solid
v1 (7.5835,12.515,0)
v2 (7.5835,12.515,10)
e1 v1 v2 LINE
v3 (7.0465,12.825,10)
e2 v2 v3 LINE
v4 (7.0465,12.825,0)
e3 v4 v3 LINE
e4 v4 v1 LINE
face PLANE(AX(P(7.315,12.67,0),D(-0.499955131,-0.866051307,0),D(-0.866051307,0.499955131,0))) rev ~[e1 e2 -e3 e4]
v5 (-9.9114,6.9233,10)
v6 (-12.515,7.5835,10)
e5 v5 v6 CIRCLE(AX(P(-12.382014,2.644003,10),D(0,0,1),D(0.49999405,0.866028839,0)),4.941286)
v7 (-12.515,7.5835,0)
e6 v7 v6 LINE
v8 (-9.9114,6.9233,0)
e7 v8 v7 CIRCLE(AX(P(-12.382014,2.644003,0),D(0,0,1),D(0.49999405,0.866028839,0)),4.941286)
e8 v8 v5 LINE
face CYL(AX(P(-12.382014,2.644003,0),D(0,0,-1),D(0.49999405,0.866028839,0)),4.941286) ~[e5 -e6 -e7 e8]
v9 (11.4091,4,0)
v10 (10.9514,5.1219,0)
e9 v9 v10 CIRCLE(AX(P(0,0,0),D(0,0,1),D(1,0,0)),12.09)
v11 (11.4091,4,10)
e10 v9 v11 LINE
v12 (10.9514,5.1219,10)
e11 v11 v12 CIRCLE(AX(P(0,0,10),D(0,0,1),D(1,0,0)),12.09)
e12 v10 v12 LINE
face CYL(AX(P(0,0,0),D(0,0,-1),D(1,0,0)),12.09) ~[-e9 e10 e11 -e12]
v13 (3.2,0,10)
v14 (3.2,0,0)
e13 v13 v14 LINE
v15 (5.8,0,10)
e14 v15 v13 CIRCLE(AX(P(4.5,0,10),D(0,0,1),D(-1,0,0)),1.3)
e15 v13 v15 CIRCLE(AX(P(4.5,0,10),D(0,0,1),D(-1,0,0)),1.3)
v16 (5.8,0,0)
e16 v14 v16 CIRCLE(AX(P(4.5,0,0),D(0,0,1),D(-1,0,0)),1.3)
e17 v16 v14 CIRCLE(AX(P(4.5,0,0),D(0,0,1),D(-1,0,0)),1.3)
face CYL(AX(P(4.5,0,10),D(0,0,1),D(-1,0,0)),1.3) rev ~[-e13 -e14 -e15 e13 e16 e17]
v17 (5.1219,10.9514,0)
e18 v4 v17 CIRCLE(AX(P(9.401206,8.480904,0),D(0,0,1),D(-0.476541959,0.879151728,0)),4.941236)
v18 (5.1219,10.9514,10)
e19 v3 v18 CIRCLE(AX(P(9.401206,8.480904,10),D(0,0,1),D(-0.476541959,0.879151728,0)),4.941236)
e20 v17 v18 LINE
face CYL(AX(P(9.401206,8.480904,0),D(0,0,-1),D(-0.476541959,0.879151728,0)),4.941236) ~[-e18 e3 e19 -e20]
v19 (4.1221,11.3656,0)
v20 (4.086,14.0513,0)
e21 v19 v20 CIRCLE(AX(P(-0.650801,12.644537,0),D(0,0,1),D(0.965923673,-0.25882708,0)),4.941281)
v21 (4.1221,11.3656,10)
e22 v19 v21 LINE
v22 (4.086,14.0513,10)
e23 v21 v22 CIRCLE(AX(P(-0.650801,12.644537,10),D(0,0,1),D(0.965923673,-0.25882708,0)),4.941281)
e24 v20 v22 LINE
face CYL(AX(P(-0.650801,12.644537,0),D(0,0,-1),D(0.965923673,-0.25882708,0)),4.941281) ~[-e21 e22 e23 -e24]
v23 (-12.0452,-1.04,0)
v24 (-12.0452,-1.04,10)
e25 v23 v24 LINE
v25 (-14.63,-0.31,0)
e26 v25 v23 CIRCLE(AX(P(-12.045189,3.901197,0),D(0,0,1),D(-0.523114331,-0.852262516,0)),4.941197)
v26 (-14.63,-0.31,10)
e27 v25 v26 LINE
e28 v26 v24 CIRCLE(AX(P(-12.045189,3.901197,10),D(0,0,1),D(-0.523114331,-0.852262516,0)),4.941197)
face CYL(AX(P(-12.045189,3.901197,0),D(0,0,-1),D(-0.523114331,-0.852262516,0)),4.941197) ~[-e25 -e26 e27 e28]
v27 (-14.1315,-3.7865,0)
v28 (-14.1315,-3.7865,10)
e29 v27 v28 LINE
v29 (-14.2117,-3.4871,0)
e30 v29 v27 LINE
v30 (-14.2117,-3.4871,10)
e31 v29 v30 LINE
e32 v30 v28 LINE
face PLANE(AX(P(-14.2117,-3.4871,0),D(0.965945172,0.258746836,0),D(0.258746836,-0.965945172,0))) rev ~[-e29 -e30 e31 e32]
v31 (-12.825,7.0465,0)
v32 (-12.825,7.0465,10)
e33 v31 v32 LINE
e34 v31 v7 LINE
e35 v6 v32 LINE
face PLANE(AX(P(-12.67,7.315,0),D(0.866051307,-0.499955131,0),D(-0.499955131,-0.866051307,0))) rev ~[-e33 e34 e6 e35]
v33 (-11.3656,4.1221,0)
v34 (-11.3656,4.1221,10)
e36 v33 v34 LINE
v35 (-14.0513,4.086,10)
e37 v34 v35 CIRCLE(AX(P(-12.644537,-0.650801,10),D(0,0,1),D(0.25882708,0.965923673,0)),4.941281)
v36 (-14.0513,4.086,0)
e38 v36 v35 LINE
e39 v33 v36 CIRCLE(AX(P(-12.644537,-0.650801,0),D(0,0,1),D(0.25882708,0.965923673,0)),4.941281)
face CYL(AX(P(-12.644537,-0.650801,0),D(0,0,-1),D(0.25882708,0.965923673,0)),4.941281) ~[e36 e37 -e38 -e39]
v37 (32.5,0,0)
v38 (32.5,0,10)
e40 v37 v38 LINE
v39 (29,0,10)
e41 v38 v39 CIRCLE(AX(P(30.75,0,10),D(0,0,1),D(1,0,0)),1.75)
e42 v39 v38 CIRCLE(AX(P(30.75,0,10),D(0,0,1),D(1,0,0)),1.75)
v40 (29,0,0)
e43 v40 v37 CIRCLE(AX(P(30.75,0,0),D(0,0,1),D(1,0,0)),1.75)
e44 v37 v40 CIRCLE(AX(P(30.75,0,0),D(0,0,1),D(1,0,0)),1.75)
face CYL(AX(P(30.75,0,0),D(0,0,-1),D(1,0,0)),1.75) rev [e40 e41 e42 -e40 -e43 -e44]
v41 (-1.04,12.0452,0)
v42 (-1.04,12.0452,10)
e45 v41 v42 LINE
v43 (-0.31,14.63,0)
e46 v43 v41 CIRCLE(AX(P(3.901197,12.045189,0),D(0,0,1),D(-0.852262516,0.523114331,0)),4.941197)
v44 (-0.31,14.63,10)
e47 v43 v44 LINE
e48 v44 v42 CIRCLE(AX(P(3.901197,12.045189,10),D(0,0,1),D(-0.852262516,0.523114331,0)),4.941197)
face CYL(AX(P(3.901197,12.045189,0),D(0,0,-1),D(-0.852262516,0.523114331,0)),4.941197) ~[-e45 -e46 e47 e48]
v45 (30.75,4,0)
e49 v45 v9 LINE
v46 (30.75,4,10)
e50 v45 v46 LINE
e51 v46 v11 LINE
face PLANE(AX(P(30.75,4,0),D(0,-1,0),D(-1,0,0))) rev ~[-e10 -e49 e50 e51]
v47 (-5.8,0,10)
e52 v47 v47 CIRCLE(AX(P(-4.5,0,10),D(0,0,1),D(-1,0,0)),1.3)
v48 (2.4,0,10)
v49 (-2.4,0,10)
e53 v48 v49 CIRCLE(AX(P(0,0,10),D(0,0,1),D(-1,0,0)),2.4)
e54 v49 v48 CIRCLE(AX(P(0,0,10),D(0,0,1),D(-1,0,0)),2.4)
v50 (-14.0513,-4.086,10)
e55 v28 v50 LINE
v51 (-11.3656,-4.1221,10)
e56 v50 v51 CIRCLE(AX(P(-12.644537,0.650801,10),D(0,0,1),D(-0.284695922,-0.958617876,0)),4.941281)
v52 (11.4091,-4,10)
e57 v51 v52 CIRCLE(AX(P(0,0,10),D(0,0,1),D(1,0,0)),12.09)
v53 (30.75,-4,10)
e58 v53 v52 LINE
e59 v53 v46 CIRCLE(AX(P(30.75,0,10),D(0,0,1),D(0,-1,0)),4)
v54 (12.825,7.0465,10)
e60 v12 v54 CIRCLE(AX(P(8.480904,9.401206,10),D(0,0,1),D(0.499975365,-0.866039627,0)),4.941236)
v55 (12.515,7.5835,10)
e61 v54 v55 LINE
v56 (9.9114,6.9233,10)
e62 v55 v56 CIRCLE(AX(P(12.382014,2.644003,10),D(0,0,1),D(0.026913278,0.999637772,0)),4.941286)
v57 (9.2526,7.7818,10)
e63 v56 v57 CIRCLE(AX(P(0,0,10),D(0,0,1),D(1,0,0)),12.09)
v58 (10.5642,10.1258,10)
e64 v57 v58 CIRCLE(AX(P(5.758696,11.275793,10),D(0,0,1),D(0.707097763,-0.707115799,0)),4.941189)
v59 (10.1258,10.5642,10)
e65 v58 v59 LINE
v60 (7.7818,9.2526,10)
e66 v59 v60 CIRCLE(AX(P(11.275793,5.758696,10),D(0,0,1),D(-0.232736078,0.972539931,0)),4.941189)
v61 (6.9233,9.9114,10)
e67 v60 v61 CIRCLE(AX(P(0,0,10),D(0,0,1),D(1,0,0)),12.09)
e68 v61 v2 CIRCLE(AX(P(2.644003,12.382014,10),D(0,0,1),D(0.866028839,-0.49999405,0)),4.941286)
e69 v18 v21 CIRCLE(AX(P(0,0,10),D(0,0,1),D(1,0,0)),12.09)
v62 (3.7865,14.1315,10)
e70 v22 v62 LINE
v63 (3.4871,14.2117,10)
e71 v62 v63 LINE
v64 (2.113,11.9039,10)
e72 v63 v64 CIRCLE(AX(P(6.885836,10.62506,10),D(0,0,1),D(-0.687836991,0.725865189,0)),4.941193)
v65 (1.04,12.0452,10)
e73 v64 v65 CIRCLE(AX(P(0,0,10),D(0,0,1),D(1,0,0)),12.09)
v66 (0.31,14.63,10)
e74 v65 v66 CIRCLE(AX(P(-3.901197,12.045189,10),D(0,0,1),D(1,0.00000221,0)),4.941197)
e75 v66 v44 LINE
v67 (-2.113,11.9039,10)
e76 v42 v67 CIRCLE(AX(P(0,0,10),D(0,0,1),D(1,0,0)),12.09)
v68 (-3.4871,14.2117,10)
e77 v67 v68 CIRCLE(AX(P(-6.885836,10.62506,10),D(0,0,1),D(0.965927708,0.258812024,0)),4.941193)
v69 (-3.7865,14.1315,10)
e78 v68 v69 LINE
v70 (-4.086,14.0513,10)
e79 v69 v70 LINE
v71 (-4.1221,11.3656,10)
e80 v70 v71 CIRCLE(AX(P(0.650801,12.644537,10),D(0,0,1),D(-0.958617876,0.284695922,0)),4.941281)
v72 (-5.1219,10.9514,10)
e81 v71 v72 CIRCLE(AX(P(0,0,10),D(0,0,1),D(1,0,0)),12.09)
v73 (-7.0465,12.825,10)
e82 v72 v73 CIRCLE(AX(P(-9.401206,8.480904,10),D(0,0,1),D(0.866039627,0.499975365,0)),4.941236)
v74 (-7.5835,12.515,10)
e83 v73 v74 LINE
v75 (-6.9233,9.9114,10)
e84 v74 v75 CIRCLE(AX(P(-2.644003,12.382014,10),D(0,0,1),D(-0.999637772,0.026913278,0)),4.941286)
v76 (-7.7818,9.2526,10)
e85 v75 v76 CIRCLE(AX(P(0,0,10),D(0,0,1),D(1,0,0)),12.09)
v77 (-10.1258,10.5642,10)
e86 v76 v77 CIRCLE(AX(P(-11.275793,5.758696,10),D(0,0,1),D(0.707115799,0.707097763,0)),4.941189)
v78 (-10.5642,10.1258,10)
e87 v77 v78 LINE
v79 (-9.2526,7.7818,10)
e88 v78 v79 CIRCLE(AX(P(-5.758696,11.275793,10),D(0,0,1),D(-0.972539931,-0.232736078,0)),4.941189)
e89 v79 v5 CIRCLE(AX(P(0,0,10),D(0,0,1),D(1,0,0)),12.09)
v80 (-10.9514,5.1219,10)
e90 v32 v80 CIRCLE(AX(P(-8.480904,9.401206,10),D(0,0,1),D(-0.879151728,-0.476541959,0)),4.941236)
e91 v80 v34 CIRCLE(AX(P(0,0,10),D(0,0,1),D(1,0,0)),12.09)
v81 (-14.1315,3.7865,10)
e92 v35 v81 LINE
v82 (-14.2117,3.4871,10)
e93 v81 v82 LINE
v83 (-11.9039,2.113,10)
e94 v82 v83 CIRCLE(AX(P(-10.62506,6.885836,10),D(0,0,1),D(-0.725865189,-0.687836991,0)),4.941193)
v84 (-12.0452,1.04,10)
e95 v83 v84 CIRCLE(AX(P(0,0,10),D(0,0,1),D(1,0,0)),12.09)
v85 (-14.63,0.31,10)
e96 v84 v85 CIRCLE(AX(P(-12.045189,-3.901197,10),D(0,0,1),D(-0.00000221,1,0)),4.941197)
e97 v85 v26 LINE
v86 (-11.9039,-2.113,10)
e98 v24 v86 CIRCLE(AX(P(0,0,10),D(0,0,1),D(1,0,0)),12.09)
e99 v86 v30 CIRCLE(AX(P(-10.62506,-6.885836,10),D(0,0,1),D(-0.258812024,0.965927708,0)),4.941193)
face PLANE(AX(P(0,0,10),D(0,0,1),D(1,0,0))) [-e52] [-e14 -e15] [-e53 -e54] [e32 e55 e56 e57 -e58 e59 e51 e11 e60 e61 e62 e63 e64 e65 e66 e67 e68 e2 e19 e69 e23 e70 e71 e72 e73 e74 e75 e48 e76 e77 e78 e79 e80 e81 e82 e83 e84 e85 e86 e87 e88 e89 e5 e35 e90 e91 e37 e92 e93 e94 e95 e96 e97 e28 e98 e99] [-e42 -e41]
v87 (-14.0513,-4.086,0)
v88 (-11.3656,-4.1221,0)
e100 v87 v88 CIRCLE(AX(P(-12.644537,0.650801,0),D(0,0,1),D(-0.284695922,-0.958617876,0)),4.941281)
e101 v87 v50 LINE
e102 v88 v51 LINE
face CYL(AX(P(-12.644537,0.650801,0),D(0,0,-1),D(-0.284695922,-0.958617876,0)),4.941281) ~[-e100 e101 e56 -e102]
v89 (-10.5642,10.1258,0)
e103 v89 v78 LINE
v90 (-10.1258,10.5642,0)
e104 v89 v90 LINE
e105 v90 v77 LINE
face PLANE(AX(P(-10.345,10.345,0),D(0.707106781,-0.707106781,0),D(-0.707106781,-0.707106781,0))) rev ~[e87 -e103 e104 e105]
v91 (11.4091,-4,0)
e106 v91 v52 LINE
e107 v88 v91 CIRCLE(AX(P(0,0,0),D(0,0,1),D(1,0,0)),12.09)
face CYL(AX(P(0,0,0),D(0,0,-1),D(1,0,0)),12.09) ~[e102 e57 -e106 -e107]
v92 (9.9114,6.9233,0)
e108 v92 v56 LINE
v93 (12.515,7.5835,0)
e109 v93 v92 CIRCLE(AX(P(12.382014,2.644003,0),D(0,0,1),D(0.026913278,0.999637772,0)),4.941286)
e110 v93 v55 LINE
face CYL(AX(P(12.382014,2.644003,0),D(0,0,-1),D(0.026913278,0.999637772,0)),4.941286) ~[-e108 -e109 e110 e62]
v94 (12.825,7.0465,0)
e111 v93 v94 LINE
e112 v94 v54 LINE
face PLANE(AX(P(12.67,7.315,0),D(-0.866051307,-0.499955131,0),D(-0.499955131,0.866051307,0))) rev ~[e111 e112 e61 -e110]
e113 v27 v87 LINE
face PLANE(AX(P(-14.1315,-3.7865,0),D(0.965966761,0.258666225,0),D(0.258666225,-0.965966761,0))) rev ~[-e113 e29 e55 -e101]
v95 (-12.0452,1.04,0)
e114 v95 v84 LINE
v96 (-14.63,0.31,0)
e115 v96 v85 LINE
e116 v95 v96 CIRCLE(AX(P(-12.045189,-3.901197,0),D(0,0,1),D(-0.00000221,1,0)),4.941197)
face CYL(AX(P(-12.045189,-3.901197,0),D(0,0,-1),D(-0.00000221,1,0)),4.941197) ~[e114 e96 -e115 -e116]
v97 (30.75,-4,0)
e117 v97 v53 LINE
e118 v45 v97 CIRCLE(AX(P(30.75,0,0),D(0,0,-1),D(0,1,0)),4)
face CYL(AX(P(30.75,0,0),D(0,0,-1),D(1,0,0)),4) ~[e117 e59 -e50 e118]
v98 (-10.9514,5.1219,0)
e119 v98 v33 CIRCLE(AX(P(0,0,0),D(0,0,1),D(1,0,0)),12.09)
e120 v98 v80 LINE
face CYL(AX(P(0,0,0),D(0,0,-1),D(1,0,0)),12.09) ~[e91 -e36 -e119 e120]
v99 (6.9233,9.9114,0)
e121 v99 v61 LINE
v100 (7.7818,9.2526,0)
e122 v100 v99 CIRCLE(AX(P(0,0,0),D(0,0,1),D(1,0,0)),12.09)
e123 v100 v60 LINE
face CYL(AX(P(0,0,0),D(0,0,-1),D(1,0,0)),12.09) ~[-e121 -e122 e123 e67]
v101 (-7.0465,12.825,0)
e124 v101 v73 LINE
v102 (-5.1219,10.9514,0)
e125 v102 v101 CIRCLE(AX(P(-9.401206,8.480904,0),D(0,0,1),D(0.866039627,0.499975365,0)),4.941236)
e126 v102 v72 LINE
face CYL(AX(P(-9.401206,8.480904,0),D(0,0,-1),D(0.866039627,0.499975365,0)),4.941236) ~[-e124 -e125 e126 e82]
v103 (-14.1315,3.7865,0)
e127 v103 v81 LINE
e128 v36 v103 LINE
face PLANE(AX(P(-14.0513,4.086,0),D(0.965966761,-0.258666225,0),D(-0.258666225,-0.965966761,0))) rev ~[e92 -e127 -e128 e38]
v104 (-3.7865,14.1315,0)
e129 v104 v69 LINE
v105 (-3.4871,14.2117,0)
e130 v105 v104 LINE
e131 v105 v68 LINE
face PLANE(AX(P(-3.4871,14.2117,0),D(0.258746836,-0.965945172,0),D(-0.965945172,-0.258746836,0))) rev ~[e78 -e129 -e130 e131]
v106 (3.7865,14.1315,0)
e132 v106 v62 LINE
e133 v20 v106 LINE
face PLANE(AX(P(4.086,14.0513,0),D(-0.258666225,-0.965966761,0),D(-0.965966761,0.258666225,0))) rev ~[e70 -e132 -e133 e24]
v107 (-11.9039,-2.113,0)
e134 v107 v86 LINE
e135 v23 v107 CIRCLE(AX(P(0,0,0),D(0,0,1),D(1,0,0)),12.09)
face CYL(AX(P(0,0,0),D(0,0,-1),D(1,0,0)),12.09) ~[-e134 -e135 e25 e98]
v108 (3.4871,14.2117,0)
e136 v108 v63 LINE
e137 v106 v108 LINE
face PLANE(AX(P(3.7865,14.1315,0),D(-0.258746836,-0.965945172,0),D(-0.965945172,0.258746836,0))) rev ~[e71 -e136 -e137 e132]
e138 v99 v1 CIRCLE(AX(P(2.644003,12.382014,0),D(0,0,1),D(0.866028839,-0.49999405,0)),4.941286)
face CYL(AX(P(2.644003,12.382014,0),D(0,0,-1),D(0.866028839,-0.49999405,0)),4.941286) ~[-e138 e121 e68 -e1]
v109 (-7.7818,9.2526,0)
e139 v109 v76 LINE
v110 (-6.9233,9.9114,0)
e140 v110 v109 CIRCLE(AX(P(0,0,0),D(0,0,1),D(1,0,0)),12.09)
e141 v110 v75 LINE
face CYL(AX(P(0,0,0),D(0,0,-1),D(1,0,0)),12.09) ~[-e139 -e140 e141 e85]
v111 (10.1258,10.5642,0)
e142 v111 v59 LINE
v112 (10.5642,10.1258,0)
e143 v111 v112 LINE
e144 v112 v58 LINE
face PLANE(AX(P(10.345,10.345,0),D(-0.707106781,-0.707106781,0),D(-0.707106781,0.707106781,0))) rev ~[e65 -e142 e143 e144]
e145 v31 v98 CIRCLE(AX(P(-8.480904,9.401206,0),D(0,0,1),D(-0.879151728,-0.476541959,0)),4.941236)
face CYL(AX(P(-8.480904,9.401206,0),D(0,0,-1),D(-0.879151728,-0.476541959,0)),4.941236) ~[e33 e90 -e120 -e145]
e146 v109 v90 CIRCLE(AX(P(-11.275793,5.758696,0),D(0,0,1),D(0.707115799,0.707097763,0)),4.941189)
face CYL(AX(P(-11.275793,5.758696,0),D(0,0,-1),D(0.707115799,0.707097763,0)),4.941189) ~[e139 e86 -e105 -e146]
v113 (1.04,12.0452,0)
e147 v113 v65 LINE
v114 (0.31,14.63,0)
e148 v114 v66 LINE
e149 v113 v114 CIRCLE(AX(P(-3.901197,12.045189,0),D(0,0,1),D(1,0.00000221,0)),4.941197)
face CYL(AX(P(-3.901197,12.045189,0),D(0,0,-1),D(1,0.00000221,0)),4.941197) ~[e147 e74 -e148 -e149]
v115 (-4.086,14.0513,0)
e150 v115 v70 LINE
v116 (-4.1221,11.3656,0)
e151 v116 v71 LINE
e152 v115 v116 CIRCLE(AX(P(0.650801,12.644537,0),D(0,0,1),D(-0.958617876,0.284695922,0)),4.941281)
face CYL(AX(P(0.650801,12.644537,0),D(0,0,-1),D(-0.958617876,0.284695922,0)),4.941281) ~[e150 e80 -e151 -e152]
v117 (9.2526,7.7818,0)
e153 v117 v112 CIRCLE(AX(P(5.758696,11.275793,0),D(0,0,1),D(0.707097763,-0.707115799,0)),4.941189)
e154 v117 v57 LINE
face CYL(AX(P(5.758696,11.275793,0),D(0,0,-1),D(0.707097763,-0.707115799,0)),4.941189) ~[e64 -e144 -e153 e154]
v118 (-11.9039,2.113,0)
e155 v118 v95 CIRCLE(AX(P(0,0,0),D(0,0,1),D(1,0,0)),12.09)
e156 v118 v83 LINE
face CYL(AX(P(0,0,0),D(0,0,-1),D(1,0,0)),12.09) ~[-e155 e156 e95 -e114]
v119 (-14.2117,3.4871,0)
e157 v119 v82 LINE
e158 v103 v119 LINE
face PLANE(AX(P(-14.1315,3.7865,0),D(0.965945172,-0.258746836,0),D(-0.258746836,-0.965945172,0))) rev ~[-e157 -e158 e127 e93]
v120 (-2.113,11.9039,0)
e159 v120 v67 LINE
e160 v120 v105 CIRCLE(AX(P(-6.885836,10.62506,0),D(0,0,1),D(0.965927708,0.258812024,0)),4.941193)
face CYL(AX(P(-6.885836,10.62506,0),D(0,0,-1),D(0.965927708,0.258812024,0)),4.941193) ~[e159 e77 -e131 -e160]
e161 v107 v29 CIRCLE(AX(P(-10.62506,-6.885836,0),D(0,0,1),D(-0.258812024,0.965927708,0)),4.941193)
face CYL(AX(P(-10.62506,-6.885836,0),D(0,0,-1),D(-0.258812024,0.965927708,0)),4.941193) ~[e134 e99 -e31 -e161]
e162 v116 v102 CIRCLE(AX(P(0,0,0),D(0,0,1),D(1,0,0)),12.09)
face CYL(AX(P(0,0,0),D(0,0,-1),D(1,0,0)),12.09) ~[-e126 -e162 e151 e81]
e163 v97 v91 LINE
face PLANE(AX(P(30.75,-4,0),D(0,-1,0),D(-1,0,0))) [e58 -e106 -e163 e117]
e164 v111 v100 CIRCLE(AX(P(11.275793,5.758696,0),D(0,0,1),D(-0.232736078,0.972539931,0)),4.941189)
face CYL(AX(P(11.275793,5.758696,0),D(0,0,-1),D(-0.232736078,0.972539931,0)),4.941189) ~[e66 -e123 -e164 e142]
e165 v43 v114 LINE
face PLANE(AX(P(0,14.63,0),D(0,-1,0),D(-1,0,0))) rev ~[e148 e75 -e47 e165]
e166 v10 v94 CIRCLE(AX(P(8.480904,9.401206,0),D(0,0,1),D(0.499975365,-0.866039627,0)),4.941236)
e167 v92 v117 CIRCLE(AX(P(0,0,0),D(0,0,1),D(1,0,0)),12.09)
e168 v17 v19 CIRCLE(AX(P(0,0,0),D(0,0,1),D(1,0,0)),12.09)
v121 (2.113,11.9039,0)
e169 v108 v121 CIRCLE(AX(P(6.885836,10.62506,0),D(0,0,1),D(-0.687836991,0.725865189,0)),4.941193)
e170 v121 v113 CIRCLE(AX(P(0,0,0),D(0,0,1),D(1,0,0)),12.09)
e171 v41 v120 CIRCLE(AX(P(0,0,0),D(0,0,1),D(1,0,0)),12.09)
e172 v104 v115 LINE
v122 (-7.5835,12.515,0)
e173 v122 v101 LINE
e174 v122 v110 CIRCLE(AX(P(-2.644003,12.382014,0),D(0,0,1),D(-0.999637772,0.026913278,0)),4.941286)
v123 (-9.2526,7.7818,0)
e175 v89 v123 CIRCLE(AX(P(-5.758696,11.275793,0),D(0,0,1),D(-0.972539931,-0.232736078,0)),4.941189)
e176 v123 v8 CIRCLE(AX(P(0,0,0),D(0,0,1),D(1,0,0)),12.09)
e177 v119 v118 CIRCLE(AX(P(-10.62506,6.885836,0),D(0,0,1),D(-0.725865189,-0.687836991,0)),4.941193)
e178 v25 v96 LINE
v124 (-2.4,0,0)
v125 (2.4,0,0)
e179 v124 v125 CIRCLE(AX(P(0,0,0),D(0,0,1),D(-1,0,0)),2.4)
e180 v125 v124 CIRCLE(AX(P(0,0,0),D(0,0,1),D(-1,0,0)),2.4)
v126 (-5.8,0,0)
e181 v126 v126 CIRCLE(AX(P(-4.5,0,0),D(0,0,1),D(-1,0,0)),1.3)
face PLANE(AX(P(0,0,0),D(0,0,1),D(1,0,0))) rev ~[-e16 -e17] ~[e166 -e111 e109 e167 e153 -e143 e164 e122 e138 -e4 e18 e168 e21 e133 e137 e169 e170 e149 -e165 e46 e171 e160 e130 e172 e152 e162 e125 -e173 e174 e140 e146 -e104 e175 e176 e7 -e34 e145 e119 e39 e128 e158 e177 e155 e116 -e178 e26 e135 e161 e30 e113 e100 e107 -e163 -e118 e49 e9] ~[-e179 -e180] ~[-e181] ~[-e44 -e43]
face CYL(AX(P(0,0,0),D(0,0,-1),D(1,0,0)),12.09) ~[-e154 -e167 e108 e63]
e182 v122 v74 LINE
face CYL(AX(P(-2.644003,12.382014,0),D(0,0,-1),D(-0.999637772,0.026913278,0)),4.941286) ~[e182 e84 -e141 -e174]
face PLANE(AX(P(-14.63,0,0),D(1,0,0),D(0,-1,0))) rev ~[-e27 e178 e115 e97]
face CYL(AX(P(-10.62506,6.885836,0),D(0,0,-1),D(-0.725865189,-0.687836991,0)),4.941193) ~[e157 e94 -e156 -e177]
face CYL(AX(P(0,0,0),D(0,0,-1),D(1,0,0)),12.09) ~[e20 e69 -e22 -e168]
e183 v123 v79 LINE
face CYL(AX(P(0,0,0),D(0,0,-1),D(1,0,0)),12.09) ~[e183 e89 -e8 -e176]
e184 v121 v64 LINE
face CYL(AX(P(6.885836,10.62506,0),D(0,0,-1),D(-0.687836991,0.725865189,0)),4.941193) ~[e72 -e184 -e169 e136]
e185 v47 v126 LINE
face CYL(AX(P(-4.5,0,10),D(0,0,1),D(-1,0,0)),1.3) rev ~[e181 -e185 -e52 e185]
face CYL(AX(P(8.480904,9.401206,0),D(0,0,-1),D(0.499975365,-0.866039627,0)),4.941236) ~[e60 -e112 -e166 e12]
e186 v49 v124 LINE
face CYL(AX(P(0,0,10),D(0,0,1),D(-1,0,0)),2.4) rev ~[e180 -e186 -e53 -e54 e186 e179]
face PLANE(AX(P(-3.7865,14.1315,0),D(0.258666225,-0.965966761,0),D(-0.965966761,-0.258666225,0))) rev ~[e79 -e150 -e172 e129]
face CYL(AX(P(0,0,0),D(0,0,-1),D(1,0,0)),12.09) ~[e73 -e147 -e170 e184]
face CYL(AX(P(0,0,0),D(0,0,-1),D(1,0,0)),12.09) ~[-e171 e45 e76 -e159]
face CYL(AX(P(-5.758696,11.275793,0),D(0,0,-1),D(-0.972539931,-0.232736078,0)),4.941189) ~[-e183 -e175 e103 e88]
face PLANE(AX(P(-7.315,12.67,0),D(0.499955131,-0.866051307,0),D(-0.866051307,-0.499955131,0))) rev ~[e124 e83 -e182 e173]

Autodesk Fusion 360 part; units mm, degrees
sketch "Sketch1" plane through (0, 0, 0) normal (0, 0, 1) x (1, 0, 0)
  circle A0 centre (0, 0) radius 12.09
  line L0 (0, 0) -> (30.75, 0)
  circle A1 centre (30.75, 0) radius 1.75
  circle A2 centre (0, 0) radius 1.75
  line L1 (0, -14.63) -> (0, 14.63) construction
  line L2 (0, 14.63) -> (-0.31, 14.63)
  line L3 (0, 14.63) -> (-0.31, 14.63)
  arc A3 (-0.31, 14.63) -> (-1.04, 12.0452) centre (3.9012, 12.0452) ccw
  arc A4 (1.04, 12.0452) -> (0.31, 14.63) centre (-3.9012, 12.0452) ccw
  line L4 (0.31, 14.63) -> (0, 14.63)
  arc A5 (-4.086, 14.0513) -> (-4.1221, 11.3656) centre (0.6508, 12.6445) ccw
  line L5 (-3.7865, 14.1315) -> (-4.086, 14.0513)
  line L6 (-3.4871, 14.2117) -> (-3.7865, 14.1315)
  arc A6 (-2.113, 11.9039) -> (-3.4871, 14.2117) centre (-6.8858, 10.625) ccw
  arc A7 (-7.5835, 12.515) -> (-6.9233, 9.9114) centre (-2.644, 12.382) ccw
  line L7 (-7.315, 12.67) -> (-7.5835, 12.515)
  line L8 (-7.0465, 12.825) -> (-7.315, 12.67)
  arc A8 (-5.1219, 10.9514) -> (-7.0465, 12.825) centre (-9.4011, 8.4808) ccw
  arc A9 (-10.5642, 10.1258) -> (-9.2526, 7.7818) centre (-5.7587, 11.2758) ccw
  line L9 (-10.345, 10.345) -> (-10.5642, 10.1258)
  line L10 (-10.1258, 10.5642) -> (-10.345, 10.345)
  arc A10 (-7.7818, 9.2526) -> (-10.1258, 10.5642) centre (-11.2758, 5.7587) ccw
  arc A11 (-12.825, 7.0465) -> (-10.9514, 5.1219) centre (-8.4808, 9.4011) ccw
  line L11 (-12.67, 7.315) -> (-12.825, 7.0465)
  line L12 (-12.515, 7.5835) -> (-12.67, 7.315)
  arc A12 (-9.9114, 6.9233) -> (-12.515, 7.5835) centre (-12.382, 2.644) ccw
  arc A13 (-14.2117, 3.4871) -> (-11.9039, 2.113) centre (-10.625, 6.8858) ccw
  line L13 (-14.1315, 3.7865) -> (-14.2117, 3.4871)
  line L14 (-14.0513, 4.086) -> (-14.1315, 3.7865)
  arc A14 (-11.3656, 4.1221) -> (-14.0513, 4.086) centre (-12.6445, -0.6508) ccw
  arc A15 (-14.63, -0.31) -> (-12.0452, -1.04) centre (-12.0452, 3.9012) ccw
  line L15 (-14.63, 0) -> (-14.63, -0.31)
  line L16 (-14.63, 0.31) -> (-14.63, 0)
  arc A16 (-12.0452, 1.04) -> (-14.63, 0.31) centre (-12.0452, -3.9012) ccw
  arc A17 (-14.0513, -4.086) -> (-11.3656, -4.1221) centre (-12.6445, 0.6508) ccw
  line L17 (-14.1315, -3.7865) -> (-14.0513, -4.086)
  line L18 (-14.2117, -3.4871) -> (-14.1315, -3.7865)
  arc A18 (-11.9039, -2.113) -> (-14.2117, -3.4871) centre (-10.625, -6.8858) ccw
  arc A19 (12.515, 7.5835) -> (9.9114, 6.9233) centre (12.382, 2.644) ccw
  line L19 (12.67, 7.315) -> (12.515, 7.5835)
  line L20 (12.825, 7.0465) -> (12.67, 7.315)
  arc A20 (10.9514, 5.1219) -> (12.825, 7.0465) centre (8.4808, 9.4011) ccw
  arc A21 (10.1258, 10.5642) -> (7.7818, 9.2526) centre (11.2758, 5.7587) ccw
  line L21 (10.345, 10.345) -> (10.1258, 10.5642)
  line L22 (10.5642, 10.1258) -> (10.345, 10.345)
  arc A22 (9.2526, 7.7818) -> (10.5642, 10.1258) centre (5.7587, 11.2758) ccw
  arc A23 (7.0465, 12.825) -> (5.1219, 10.9514) centre (9.4011, 8.4808) ccw
  line L23 (7.315, 12.67) -> (7.0465, 12.825)
  line L24 (7.5835, 12.515) -> (7.315, 12.67)
  arc A24 (6.9233, 9.9114) -> (7.5835, 12.515) centre (2.644, 12.382) ccw
  arc A25 (3.4871, 14.2117) -> (2.113, 11.9039) centre (6.8858, 10.625) ccw
  line L25 (3.7865, 14.1315) -> (3.4871, 14.2117)
  line L26 (4.086, 14.0513) -> (3.7865, 14.1315)
  arc A26 (4.1221, 11.3656) -> (4.086, 14.0513) centre (-0.6508, 12.6445) ccw
  circle A27 centre (30.75, 0) radius 4
  line L27 (30.75, 4) -> (11.4091, 4)
  line L28 (30.75, -4) -> (11.4091, -4)
  dimension "d1" = 24.18
  dimension "d2" = 30.75
  dimension "d3" = 3.5
  dimension "d4" = 3.5
  dimension "d5" = 29.26
  dimension "d6" = 0.31
  dimension "d9" = 360
  dimension "d10" = 8
extrude "Extrude1" add sketch "Sketch1" along normal blind 10
sketch "Sketch2" plane through (0, 0, 10) normal (0, 0, 1) x (-1, 0, 0)
  circle A0 centre (-30.75, 0) radius 1.75
  circle A1 centre (0, 0) radius 1.75
  line L0 (-30.75, -4) -> (-11.4091, -4)
  arc A2 (-11.4091, -4) -> (-10.9514, -5.1219) centre (0, 0) ccw
  arc A3 (-10.9514, -5.1219) -> (-12.825, -7.0465) centre (-8.4808, -9.4011) ccw
  line L1 (-12.825, -7.0465) -> (-12.515, -7.5835)
  arc A4 (-12.515, -7.5835) -> (-9.9114, -6.9233) centre (-12.382, -2.644) ccw
  arc A5 (-9.9114, -6.9233) -> (-9.2526, -7.7818) centre (0, 0) ccw
  arc A6 (-9.2526, -7.7818) -> (-10.5642, -10.1258) centre (-5.7587, -11.2758) ccw
  line L2 (-10.5642, -10.1258) -> (-10.1258, -10.5642)
  arc A7 (-10.1258, -10.5642) -> (-7.7818, -9.2526) centre (-11.2758, -5.7587) ccw
  arc A8 (-7.7818, -9.2526) -> (-6.9233, -9.9114) centre (0, 0) ccw
  arc A9 (-6.9233, -9.9114) -> (-7.5835, -12.515) centre (-2.644, -12.382) ccw
  line L3 (-7.5835, -12.515) -> (-7.0465, -12.825)
  arc A10 (-7.0465, -12.825) -> (-5.1219, -10.9514) centre (-9.4011, -8.4808) ccw
  arc A11 (-5.1219, -10.9514) -> (-4.1221, -11.3656) centre (0, 0) ccw
  arc A12 (-4.1221, -11.3656) -> (-4.086, -14.0513) centre (0.6508, -12.6445) ccw
  line L4 (-4.086, -14.0513) -> (-3.4871, -14.2117)
  arc A13 (-3.4871, -14.2117) -> (-2.113, -11.9039) centre (-6.8858, -10.625) ccw
  arc A14 (-2.113, -11.9039) -> (-1.04, -12.0452) centre (0, 0) ccw
  arc A15 (-1.04, -12.0452) -> (-0.31, -14.63) centre (3.9012, -12.0452) ccw
  line L5 (-0.31, -14.63) -> (0.31, -14.63)
  arc A16 (0.31, -14.63) -> (1.04, -12.0452) centre (-3.9012, -12.0452) ccw
  arc A17 (1.04, -12.0452) -> (2.113, -11.9039) centre (0, 0) ccw
  arc A18 (2.113, -11.9039) -> (3.4871, -14.2117) centre (6.8858, -10.625) ccw
  line L6 (3.4871, -14.2117) -> (4.086, -14.0513)
  arc A19 (4.086, -14.0513) -> (4.1221, -11.3656) centre (-0.6508, -12.6445) ccw
  arc A20 (4.1221, -11.3656) -> (5.1219, -10.9514) centre (0, 0) ccw
  arc A21 (5.1219, -10.9514) -> (7.0465, -12.825) centre (9.4011, -8.4808) ccw
  line L7 (7.0465, -12.825) -> (7.5835, -12.515)
  arc A22 (7.5835, -12.515) -> (6.9233, -9.9114) centre (2.644, -12.382) ccw
  arc A23 (6.9233, -9.9114) -> (7.7818, -9.2526) centre (0, 0) ccw
  arc A24 (7.7818, -9.2526) -> (10.1258, -10.5642) centre (11.2758, -5.7587) ccw
  line L8 (10.1258, -10.5642) -> (10.5642, -10.1258)
  arc A25 (10.5642, -10.1258) -> (9.2526, -7.7818) centre (5.7587, -11.2758) ccw
  arc A26 (9.2526, -7.7818) -> (9.9114, -6.9233) centre (0, 0) ccw
  arc A27 (9.9114, -6.9233) -> (12.515, -7.5835) centre (12.382, -2.644) ccw
  line L9 (12.515, -7.5835) -> (12.825, -7.0465)
  arc A28 (12.825, -7.0465) -> (10.9514, -5.1219) centre (8.4808, -9.4011) ccw
  arc A29 (10.9514, -5.1219) -> (11.3656, -4.1221) centre (0, 0) ccw
  arc A30 (11.3656, -4.1221) -> (14.0513, -4.086) centre (12.6445, 0.6508) ccw
  line L10 (14.0513, -4.086) -> (14.2117, -3.4871)
  arc A31 (14.2117, -3.4871) -> (11.9039, -2.113) centre (10.625, -6.8858) ccw
  arc A32 (11.9039, -2.113) -> (12.0452, -1.04) centre (0, 0) ccw
  arc A33 (12.0452, -1.04) -> (14.63, -0.31) centre (12.0452, 3.9012) ccw
  line L11 (14.63, -0.31) -> (14.63, 0.31)
  arc A34 (14.63, 0.31) -> (12.0452, 1.04) centre (12.0452, -3.9012) ccw
  arc A35 (12.0452, 1.04) -> (11.9039, 2.113) centre (0, 0) ccw
  arc A36 (11.9039, 2.113) -> (14.2117, 3.4871) centre (10.625, 6.8858) ccw
  line L12 (14.2117, 3.4871) -> (14.0513, 4.086)
  arc A37 (14.0513, 4.086) -> (11.3656, 4.1221) centre (12.6445, -0.6508) ccw
  arc A38 (11.3656, 4.1221) -> (-11.4091, 4) centre (0, 0) ccw
  line L13 (-11.4091, 4) -> (-30.75, 4)
  arc A39 (-30.75, 4) -> (-30.75, -4) centre (-30.75, 0) ccw
  line L14 (4.5, 0) -> (-4.5, 0) construction
  circle A40 centre (4.5, 0) radius 1.3
  circle A41 centre (-4.5, 0) radius 1.3
  dimension "d13" = 9
  dimension "d14" = 2.6
  dimension "d15" = 2.6
sketch "Sketch3" plane through (0, 0, 10) normal (0, 0, 1) x (-1, 0, 0)
extrude "Extrude2" cut sketch "Sketch2" against normal blind 10 contours A40
extrude "Extrude3" cut sketch "Sketch2" against normal blind 10 contours A41
sketch "Sketch4" plane through (0, 0, 10) normal (0, 0, 1) x (-1, 0, 0)
  circle A0 centre (0, 0) radius 2.4
  dimension "d20" = 4.8
extrude "Extrude4" cut sketch "Sketch4" against normal blind 10
